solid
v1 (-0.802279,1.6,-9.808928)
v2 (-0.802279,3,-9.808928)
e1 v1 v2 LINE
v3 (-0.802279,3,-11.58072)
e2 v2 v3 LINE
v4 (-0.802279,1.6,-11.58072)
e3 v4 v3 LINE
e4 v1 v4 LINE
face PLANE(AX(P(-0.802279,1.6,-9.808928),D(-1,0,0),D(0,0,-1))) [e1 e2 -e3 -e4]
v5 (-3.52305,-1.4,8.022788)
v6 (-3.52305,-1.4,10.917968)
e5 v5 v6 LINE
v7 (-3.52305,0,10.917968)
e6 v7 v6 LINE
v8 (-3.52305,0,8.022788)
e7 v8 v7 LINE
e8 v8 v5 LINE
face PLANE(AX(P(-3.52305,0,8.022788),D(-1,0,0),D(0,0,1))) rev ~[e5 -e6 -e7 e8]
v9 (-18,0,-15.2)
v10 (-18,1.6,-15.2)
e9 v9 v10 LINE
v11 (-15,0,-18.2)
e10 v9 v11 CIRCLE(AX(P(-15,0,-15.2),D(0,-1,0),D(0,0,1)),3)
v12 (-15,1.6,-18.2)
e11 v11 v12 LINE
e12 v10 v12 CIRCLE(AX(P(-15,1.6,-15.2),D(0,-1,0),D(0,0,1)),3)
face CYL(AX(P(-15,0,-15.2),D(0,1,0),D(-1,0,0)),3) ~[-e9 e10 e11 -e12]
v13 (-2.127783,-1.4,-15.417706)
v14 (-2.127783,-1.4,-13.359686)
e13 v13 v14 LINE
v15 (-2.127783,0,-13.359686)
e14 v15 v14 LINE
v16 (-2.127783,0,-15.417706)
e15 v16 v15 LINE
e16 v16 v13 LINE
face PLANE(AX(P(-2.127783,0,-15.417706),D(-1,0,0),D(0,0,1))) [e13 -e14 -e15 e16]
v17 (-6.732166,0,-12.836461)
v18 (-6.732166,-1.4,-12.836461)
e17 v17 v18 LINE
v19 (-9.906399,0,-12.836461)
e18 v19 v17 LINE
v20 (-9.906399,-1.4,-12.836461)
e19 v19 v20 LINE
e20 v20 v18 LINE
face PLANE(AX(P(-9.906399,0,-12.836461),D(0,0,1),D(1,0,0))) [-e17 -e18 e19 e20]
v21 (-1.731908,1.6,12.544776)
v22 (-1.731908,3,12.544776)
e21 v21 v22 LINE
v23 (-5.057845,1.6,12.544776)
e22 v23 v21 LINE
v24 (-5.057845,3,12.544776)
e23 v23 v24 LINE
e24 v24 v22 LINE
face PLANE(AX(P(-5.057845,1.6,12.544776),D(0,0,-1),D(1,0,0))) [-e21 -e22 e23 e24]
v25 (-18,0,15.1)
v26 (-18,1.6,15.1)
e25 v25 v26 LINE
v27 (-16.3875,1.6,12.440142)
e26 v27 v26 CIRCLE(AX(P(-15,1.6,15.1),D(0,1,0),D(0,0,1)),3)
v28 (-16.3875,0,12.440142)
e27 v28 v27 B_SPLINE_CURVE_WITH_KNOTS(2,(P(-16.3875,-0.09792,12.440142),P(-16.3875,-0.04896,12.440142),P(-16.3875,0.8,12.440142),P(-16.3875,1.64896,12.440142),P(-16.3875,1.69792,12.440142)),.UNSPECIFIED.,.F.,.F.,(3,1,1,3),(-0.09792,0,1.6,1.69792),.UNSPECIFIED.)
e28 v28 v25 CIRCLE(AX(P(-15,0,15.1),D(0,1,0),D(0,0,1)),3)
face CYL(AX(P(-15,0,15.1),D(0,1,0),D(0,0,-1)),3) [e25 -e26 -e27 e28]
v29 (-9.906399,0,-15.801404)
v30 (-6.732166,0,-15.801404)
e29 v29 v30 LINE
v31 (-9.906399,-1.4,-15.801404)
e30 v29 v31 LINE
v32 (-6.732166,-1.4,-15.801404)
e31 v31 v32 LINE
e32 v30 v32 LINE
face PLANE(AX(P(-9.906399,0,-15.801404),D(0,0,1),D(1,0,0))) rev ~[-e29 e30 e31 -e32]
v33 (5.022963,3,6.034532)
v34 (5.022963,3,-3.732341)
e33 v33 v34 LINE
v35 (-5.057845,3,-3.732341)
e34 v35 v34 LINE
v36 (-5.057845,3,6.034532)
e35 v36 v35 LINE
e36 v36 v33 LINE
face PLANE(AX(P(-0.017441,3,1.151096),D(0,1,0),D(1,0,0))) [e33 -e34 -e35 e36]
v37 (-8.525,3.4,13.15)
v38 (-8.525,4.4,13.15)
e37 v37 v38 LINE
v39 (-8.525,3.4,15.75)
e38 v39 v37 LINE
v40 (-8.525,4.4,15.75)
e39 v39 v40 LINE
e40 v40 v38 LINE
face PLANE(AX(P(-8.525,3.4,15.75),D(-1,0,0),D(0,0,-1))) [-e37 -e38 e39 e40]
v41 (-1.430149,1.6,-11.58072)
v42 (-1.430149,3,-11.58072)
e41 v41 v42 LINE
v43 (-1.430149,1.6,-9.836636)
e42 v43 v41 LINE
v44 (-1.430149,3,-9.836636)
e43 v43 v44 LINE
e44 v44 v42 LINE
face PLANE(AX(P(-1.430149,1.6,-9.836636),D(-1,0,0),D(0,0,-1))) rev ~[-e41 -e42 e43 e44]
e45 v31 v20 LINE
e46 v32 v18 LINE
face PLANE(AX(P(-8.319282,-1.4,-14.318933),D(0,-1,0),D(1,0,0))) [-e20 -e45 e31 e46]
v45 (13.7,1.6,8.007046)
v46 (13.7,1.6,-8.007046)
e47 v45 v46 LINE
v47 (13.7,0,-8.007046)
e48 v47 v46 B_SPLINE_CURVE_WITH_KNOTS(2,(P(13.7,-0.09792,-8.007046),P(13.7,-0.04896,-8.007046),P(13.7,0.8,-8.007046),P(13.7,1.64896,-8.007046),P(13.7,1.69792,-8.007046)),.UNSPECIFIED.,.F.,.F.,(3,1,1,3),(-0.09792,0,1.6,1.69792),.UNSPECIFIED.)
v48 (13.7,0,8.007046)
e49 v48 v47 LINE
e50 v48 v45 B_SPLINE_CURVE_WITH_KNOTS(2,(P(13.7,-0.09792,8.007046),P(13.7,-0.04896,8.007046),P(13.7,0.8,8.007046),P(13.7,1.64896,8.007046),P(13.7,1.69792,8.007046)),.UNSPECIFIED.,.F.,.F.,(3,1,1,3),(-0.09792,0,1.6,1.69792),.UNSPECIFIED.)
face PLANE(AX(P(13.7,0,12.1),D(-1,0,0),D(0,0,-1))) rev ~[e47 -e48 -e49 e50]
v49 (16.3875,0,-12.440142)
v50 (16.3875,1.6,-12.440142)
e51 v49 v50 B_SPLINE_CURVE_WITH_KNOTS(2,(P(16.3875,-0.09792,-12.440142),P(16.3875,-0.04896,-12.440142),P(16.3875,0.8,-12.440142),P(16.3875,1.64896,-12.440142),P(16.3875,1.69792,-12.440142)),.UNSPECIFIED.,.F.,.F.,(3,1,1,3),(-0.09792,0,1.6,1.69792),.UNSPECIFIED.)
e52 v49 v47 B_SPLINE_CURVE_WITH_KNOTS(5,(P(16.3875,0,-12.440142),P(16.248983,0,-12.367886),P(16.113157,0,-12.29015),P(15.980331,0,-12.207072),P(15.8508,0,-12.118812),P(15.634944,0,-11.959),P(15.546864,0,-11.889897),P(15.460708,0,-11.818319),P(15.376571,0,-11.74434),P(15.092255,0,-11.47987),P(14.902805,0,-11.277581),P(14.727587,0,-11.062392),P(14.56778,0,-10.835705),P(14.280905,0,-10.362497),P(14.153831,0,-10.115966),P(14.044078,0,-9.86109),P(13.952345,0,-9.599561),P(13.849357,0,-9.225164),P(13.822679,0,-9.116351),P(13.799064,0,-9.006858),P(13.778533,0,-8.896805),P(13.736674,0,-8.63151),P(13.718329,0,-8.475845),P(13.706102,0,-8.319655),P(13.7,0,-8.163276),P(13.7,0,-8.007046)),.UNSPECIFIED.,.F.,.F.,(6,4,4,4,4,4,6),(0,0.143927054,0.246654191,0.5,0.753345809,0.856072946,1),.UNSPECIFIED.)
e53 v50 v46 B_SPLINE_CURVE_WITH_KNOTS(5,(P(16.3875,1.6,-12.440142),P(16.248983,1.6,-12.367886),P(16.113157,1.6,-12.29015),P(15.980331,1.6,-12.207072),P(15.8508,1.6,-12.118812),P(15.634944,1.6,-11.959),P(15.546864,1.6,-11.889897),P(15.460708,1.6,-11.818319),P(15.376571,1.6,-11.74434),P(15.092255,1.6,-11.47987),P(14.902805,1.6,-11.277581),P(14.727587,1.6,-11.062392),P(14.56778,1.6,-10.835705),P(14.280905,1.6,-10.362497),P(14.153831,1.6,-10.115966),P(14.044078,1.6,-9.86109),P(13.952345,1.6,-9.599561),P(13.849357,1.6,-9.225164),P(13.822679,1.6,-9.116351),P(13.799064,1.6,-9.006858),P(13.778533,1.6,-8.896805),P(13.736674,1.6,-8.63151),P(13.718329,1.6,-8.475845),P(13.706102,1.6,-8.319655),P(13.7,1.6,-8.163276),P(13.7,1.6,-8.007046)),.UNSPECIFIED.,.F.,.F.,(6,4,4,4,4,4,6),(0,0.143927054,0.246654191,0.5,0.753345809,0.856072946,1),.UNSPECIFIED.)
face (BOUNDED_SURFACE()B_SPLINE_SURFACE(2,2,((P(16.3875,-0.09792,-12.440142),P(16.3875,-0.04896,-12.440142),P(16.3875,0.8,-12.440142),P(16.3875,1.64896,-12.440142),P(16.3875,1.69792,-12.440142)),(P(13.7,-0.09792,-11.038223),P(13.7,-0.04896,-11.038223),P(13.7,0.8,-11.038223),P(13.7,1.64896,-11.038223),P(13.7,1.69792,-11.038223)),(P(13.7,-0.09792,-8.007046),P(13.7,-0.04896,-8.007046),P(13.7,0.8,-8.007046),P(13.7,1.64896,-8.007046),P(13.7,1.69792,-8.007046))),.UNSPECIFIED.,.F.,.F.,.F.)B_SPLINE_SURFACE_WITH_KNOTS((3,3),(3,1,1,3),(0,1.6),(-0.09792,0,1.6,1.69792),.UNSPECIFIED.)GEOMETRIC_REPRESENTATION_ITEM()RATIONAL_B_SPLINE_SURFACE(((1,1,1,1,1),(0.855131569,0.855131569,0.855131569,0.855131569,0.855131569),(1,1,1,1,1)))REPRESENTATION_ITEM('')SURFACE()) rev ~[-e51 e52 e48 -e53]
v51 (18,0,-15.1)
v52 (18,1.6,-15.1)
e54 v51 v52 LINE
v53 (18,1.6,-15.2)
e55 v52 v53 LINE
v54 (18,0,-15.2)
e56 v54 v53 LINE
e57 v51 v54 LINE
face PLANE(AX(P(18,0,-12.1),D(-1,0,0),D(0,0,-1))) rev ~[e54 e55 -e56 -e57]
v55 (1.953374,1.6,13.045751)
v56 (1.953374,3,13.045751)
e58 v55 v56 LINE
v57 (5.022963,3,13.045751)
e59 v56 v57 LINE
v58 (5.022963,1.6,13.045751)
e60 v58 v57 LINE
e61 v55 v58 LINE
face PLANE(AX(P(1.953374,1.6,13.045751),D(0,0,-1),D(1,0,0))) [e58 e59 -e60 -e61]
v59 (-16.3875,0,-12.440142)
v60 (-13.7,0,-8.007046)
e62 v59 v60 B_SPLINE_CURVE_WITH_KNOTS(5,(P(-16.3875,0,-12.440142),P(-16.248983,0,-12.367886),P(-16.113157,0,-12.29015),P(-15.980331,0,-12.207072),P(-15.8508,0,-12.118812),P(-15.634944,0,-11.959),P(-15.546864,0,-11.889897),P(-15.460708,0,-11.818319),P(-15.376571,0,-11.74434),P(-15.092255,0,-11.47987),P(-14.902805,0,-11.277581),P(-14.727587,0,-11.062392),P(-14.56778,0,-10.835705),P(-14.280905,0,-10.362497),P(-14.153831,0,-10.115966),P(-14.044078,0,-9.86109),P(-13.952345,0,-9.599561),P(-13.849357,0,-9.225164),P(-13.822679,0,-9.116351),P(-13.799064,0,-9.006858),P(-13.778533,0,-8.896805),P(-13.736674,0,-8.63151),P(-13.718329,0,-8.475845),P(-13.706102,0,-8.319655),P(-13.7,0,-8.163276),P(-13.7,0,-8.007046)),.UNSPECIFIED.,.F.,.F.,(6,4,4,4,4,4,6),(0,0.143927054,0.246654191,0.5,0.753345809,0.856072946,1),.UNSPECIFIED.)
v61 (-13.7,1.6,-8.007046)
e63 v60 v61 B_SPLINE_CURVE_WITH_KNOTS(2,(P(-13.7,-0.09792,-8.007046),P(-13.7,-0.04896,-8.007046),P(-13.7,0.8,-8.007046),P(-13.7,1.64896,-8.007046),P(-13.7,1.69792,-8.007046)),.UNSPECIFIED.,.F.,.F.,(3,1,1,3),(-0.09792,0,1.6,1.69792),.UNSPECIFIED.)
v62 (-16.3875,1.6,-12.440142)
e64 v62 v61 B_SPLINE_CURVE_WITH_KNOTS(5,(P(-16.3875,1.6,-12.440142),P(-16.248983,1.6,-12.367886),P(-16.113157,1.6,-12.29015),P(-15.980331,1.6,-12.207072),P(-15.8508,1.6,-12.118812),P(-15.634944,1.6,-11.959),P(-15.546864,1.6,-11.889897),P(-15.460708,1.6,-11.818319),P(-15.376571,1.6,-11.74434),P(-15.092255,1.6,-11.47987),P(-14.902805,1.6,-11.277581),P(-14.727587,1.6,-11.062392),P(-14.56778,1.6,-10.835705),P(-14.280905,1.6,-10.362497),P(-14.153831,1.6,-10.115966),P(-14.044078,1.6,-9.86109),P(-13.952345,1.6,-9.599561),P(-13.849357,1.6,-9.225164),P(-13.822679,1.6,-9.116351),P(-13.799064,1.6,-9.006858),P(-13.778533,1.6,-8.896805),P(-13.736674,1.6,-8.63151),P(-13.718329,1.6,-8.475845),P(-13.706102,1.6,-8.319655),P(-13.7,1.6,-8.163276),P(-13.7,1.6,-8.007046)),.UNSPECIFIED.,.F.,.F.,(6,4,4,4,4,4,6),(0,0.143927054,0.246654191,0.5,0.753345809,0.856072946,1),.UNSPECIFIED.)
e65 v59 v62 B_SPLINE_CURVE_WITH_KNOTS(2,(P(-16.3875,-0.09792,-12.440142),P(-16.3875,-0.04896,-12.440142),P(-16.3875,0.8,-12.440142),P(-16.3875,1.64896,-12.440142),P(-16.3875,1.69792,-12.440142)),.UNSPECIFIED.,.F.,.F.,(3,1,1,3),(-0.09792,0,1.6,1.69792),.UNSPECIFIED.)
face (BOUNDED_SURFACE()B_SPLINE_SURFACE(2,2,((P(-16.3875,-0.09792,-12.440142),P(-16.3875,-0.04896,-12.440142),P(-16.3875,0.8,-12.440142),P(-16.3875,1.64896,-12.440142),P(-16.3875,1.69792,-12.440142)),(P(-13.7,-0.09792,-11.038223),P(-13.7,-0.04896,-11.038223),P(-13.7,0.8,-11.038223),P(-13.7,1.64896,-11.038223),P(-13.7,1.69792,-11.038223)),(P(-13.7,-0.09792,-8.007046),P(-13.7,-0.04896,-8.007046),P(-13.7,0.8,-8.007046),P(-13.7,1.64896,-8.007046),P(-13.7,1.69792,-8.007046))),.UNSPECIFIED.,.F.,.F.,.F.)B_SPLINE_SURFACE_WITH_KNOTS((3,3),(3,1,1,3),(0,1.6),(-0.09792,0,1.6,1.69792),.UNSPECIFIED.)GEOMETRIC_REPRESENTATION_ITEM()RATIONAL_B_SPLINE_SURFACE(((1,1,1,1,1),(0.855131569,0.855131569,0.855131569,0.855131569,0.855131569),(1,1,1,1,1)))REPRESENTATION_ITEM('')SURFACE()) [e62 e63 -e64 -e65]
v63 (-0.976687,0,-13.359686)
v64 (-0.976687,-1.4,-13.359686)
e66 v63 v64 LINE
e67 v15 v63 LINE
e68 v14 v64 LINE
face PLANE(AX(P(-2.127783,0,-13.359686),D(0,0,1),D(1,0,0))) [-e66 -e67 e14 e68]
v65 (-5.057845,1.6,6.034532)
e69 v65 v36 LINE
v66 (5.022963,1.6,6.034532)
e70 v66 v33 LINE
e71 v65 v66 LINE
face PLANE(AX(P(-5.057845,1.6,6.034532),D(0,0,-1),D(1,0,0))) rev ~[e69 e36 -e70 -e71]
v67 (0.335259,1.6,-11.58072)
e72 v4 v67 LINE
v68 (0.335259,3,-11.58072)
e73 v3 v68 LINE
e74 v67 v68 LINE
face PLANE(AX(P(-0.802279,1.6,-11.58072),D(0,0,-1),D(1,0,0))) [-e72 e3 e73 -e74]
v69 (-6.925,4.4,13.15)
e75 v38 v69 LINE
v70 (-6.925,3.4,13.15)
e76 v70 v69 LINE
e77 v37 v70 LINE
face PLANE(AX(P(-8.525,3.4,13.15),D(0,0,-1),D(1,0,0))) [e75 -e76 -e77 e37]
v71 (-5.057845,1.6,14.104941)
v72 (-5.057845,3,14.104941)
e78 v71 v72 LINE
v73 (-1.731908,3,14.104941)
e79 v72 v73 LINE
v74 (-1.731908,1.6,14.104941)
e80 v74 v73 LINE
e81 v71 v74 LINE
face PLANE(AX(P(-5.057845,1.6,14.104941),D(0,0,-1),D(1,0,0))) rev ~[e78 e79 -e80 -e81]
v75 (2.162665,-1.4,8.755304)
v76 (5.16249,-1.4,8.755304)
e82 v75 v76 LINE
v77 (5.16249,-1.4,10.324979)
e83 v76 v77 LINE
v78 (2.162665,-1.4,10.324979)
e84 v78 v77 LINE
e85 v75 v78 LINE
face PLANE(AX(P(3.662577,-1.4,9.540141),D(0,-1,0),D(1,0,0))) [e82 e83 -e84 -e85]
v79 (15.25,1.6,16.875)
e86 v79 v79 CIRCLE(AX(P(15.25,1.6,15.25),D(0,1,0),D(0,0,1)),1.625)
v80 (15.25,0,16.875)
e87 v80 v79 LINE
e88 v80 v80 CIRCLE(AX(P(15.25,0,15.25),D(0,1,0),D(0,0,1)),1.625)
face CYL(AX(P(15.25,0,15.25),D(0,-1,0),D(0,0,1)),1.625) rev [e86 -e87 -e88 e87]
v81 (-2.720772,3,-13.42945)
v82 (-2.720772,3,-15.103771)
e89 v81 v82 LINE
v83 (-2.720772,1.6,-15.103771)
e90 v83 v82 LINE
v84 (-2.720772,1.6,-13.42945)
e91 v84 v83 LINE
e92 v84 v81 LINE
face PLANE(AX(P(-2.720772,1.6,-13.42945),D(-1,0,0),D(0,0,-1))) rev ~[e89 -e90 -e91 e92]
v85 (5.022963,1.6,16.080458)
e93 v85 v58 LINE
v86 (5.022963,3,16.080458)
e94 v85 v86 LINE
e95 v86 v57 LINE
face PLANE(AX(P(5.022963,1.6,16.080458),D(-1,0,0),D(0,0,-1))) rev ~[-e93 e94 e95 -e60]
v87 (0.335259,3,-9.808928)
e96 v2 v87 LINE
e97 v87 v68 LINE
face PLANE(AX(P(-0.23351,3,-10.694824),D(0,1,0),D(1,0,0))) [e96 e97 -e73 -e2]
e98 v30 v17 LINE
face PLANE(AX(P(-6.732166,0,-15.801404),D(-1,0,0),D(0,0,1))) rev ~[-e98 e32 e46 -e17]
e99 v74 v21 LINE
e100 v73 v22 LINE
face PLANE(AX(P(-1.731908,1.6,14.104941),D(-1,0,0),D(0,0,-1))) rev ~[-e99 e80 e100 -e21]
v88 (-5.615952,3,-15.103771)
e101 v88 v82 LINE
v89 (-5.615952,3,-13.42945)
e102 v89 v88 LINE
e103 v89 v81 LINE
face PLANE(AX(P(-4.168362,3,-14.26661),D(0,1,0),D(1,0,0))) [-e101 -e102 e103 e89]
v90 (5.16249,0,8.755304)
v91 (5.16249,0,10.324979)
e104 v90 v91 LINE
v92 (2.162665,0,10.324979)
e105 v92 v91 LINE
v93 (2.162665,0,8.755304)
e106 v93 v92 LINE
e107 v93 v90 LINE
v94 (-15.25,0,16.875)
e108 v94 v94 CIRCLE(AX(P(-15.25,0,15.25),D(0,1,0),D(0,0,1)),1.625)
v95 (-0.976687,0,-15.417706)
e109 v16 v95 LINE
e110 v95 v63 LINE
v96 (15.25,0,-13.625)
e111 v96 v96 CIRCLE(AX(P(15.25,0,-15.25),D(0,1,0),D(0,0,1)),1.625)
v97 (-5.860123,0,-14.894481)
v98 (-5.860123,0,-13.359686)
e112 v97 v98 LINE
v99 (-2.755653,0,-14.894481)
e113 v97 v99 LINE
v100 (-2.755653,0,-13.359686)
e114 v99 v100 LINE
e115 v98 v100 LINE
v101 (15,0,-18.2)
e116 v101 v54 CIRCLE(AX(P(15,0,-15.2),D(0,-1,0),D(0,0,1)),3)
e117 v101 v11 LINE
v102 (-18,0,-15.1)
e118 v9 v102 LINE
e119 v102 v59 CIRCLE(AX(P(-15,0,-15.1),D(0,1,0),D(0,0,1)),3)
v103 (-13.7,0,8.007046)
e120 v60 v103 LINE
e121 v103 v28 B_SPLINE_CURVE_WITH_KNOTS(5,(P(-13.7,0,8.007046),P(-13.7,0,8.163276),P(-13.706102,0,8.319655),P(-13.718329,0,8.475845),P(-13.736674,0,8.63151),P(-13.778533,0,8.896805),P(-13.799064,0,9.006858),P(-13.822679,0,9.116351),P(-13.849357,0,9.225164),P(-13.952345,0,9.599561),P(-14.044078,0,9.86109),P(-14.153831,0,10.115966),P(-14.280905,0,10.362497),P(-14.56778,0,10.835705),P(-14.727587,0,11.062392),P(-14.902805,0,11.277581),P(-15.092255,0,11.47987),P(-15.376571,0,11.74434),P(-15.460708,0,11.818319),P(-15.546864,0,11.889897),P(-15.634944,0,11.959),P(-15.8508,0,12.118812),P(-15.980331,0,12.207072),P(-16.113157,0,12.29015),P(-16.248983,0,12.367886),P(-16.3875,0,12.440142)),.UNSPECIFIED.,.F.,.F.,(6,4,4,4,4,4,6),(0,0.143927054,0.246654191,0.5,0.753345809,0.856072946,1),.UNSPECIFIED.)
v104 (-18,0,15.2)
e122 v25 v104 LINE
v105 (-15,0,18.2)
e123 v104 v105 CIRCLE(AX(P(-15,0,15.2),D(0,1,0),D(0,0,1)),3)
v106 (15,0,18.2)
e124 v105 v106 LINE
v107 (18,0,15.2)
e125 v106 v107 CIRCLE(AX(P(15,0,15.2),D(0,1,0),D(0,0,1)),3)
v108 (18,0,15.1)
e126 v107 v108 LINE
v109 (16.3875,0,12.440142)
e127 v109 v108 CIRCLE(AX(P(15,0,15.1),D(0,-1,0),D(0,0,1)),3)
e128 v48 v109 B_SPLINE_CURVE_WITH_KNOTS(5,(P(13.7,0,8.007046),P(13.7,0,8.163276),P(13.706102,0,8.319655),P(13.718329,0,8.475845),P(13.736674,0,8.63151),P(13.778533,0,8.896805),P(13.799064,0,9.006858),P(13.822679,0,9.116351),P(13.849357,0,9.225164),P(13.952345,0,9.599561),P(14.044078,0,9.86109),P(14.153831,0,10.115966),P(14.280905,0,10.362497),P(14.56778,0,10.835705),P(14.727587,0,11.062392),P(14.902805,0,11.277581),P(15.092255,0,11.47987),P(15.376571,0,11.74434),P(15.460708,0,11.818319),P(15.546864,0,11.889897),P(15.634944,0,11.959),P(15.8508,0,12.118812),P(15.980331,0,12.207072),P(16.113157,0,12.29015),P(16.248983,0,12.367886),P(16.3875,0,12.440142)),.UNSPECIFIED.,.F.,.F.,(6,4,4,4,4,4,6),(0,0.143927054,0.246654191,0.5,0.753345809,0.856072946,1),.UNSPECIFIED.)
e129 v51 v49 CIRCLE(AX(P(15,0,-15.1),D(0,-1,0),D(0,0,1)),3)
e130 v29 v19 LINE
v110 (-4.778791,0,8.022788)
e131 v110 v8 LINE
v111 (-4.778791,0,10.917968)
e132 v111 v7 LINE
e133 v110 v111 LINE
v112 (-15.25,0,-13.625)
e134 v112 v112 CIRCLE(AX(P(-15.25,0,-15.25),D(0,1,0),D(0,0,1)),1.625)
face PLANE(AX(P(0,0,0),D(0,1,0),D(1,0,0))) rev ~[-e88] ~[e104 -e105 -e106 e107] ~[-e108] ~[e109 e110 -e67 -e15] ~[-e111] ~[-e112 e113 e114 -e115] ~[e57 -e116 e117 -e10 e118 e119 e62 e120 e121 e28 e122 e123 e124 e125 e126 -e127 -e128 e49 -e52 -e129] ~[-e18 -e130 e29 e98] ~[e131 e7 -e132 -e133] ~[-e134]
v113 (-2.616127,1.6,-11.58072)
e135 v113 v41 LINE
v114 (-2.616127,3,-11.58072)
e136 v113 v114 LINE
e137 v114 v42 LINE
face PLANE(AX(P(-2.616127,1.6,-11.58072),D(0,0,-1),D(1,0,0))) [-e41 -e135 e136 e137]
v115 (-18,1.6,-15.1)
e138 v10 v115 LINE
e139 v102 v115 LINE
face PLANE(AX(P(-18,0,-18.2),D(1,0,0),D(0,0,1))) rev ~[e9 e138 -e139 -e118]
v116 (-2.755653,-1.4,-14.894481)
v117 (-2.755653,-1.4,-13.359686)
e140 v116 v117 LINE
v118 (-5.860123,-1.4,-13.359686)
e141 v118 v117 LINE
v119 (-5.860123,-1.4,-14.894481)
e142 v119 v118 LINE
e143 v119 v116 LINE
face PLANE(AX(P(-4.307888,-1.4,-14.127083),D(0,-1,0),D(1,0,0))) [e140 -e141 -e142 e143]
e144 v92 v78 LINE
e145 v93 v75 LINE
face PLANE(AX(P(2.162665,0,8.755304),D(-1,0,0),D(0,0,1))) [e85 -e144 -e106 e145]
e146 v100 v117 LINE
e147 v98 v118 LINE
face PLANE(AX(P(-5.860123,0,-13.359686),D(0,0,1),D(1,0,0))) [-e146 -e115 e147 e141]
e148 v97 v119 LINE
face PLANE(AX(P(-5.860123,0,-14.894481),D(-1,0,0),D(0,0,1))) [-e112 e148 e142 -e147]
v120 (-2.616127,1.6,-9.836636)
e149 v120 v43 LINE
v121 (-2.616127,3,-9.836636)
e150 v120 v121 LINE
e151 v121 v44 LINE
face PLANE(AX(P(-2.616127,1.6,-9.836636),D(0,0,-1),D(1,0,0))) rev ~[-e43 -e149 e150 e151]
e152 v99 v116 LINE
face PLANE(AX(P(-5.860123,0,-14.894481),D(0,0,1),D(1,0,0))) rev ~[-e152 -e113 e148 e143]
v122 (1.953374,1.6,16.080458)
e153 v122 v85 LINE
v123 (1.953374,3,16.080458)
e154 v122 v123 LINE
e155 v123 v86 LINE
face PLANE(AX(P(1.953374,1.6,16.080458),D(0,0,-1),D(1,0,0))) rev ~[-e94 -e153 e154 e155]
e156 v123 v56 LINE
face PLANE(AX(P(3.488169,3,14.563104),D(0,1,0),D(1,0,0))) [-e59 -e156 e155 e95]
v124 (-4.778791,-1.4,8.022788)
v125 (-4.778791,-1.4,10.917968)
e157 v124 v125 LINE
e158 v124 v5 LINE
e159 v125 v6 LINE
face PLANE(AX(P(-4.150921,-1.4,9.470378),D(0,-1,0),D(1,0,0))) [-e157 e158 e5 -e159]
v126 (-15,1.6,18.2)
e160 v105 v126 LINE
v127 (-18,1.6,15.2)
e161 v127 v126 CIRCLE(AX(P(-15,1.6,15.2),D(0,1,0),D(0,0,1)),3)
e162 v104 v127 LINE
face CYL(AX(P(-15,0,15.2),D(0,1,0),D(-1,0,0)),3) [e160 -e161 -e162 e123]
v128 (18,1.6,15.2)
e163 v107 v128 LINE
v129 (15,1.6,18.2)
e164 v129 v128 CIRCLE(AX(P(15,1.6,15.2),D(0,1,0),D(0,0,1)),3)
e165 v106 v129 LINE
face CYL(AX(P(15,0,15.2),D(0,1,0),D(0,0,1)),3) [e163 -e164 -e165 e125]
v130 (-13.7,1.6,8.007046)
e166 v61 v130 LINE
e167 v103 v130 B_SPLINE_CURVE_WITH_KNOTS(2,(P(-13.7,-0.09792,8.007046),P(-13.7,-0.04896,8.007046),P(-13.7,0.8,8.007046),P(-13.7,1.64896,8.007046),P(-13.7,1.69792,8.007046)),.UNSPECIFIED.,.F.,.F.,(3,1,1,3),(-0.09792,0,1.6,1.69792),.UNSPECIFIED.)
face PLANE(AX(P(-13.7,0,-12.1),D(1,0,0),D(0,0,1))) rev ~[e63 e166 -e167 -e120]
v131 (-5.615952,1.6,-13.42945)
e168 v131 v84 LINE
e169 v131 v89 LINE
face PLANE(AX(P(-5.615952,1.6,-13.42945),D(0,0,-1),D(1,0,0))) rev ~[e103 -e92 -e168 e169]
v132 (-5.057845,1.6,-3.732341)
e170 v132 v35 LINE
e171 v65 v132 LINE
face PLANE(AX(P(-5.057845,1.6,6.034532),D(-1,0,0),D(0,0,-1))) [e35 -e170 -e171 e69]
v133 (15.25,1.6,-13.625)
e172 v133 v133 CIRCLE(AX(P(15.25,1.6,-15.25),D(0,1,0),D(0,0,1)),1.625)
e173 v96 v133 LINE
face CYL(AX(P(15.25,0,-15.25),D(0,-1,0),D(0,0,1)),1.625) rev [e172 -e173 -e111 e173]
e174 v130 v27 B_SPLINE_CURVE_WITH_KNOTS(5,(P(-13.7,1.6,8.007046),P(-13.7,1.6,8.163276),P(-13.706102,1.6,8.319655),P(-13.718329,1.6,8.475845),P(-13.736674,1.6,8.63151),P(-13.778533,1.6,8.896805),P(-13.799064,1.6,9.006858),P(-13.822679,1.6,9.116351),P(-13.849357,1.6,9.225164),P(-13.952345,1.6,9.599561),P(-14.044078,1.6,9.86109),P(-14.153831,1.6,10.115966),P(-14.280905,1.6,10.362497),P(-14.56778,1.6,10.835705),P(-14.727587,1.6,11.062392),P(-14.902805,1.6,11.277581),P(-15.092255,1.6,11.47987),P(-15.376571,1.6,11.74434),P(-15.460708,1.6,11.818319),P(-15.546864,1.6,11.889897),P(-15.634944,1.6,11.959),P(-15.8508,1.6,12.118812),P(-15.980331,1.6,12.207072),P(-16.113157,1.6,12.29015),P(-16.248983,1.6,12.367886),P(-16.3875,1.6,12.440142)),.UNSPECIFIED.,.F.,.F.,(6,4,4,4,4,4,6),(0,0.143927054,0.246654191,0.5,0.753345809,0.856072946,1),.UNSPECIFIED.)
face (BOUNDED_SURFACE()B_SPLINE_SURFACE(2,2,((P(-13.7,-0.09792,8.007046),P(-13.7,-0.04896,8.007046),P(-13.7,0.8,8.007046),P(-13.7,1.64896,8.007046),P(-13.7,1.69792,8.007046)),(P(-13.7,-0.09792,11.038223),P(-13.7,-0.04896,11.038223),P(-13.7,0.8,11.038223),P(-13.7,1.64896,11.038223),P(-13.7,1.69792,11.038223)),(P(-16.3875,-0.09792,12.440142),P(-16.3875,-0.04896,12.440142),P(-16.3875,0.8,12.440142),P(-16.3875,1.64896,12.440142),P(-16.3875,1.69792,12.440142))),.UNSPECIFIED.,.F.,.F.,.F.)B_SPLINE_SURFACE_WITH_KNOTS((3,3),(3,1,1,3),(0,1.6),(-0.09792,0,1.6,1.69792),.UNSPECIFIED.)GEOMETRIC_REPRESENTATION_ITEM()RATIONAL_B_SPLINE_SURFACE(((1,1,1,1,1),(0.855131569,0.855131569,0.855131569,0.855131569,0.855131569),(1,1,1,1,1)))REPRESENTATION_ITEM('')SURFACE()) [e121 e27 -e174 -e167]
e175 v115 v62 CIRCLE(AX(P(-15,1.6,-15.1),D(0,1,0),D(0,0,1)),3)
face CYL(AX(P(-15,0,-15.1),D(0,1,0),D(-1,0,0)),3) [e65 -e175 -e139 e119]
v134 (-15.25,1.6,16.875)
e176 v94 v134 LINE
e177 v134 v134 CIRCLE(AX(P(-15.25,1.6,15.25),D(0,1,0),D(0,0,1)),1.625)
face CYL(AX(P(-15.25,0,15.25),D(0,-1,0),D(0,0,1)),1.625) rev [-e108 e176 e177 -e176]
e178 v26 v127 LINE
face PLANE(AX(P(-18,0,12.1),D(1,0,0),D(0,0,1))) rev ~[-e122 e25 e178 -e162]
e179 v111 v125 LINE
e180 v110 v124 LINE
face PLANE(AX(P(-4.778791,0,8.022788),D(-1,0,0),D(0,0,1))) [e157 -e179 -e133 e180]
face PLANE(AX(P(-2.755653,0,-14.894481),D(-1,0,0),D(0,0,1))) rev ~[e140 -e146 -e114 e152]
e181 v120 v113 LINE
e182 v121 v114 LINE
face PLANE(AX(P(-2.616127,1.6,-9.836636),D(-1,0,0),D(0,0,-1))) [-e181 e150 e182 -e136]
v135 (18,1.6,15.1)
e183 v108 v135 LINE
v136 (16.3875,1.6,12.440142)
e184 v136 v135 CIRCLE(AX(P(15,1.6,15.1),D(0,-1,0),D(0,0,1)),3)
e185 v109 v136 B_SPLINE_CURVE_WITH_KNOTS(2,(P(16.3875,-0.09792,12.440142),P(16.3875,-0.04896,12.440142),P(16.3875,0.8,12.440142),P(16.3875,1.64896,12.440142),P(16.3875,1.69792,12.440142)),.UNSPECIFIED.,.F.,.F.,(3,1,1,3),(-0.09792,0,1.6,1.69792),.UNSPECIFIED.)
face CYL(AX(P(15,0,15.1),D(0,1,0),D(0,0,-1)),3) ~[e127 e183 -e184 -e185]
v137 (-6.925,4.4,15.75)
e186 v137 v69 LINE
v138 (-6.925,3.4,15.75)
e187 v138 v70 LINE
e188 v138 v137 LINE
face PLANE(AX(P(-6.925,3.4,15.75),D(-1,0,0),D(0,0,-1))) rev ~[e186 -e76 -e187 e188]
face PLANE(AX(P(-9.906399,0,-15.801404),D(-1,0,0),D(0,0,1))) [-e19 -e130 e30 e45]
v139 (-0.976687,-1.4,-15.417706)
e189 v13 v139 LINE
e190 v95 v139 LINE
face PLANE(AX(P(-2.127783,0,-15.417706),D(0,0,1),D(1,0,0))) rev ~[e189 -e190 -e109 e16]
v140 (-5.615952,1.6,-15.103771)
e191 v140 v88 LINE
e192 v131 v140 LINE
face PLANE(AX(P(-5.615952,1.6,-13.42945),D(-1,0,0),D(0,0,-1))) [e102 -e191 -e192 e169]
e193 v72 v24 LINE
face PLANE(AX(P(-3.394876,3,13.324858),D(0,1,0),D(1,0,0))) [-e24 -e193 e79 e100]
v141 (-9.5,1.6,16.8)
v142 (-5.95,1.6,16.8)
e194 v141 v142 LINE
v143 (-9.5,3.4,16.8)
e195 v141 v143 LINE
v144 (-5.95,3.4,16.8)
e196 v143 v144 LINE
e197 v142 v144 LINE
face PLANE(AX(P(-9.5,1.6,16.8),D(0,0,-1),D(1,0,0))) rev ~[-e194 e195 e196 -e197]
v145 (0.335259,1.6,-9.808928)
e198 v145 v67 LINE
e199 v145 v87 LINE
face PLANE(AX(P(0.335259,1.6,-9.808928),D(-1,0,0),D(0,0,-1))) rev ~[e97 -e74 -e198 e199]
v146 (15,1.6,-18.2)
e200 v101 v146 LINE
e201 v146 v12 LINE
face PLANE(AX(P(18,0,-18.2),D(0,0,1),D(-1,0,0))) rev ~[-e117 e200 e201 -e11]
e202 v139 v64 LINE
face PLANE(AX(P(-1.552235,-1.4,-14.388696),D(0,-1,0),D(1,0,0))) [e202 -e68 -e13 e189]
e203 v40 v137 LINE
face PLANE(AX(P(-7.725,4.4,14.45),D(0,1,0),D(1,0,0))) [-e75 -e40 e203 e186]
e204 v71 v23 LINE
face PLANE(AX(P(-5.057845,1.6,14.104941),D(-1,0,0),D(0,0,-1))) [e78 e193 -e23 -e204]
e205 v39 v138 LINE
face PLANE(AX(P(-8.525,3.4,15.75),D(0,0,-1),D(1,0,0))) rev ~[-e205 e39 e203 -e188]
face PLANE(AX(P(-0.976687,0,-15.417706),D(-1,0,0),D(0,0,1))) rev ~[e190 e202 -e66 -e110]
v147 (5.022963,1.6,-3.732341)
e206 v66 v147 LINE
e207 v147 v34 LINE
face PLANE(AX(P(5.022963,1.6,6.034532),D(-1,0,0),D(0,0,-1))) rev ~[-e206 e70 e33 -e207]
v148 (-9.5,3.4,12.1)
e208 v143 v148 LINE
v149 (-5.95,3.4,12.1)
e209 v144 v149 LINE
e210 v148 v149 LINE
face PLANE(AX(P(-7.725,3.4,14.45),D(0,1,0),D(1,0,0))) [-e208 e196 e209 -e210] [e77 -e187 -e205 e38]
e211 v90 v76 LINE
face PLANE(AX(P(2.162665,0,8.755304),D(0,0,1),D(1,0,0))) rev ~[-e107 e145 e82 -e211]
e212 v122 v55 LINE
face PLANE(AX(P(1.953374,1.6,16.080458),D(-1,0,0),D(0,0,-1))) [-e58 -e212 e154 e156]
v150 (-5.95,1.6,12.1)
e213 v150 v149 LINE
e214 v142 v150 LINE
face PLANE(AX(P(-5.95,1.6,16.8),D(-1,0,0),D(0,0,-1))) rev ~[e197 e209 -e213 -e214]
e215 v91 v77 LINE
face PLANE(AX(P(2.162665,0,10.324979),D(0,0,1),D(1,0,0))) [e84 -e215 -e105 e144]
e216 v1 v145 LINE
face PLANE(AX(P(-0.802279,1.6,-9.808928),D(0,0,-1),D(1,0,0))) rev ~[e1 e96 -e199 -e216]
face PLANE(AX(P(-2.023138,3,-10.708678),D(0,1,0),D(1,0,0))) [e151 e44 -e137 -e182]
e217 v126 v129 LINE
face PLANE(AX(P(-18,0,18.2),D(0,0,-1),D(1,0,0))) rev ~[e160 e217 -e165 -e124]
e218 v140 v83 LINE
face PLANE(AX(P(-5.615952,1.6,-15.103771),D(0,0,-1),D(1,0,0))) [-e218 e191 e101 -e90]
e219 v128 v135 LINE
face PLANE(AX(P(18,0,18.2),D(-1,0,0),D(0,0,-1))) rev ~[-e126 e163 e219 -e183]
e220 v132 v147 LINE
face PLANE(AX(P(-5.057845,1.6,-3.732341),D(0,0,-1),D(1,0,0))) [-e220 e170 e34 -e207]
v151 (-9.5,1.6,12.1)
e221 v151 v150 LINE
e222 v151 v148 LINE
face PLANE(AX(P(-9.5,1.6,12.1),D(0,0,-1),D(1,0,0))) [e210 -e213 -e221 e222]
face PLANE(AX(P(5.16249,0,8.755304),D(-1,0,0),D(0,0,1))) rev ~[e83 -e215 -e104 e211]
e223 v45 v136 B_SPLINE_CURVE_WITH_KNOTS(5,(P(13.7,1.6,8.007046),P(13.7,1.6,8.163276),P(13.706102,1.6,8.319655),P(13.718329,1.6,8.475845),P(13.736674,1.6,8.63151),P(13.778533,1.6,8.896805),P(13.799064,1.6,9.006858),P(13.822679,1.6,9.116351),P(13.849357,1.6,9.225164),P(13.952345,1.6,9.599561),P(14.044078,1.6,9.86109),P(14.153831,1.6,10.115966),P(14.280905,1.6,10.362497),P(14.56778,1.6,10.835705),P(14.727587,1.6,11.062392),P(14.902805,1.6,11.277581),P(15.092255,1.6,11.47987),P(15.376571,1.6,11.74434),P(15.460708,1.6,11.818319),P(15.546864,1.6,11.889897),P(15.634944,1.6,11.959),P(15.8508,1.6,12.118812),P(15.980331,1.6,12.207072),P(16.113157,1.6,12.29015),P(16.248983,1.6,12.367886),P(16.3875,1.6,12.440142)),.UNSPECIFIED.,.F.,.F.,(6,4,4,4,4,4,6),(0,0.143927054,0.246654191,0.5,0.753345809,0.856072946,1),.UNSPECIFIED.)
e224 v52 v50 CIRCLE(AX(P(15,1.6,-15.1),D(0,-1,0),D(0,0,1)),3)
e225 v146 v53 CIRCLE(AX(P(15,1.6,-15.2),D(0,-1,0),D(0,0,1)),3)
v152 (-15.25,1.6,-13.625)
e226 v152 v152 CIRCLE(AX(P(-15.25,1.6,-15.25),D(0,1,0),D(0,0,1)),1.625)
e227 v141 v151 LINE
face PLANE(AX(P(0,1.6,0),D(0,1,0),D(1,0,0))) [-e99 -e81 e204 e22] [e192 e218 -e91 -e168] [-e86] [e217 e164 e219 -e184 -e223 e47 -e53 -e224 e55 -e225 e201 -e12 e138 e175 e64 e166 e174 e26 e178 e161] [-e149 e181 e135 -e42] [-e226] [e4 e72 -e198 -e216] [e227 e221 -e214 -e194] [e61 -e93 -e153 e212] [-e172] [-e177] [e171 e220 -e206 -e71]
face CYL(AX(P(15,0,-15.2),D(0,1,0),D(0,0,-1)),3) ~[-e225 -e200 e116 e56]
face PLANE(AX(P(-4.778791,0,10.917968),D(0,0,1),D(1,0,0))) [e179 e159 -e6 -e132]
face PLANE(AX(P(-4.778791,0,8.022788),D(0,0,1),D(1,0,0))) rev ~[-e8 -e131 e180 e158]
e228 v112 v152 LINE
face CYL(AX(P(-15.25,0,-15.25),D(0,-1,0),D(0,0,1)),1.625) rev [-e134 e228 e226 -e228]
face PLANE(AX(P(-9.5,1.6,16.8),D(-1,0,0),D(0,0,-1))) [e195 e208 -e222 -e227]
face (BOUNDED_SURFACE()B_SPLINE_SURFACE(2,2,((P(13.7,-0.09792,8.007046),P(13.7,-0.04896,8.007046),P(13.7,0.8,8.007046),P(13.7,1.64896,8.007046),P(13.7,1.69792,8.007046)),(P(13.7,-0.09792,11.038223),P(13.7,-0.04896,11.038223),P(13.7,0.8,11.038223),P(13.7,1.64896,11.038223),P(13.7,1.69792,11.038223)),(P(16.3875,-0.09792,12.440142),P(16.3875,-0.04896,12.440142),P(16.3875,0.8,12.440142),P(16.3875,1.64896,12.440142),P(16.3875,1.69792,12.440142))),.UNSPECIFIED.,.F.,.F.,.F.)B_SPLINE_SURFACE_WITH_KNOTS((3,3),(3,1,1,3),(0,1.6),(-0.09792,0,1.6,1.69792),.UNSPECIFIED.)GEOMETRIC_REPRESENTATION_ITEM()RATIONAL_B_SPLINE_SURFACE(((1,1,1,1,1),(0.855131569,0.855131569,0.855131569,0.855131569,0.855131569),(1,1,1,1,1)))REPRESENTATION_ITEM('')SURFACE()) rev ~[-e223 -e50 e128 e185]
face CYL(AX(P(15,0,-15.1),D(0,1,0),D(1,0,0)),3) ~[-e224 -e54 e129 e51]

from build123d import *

# Parameters (mm, degrees)
SKETCH1_R             = 1.625
PCB_DEPTH             = 1.6
SKETCH2_W             = 10.080807645
SKETCH2_H             = 9.766872459
SKETCH2_W_2           = 3.069588487
SKETCH2_H_2           = 3.0347068
SKETCH2_W_3           = 2.89518005
SKETCH2_H_3           = 1.674320993
SKETCH2_W_4           = 1.18597737
SKETCH2_H_4           = 1.744084367
SKETCH2_W_5           = 1.137538121
SKETCH2_H_5           = 1.77179178
SKETCH2_W_6           = 3.325937142
SKETCH2_H_6           = 1.560165557
TOP_COMPONENTS_DEPTH  = 1.4
FILLET1_R             = 3
FILLET2_R             = 5
SKETCH3_W             = 3.174233549
SKETCH3_H             = 2.964943425
SKETCH3_W_2           = 3.104470174
SKETCH3_H_2           = 1.534794244
SKETCH3_W_3           = 2.999825112
SKETCH3_H_3           = 1.569675931
SKETCH3_W_4           = 1.255740744
SKETCH3_H_4           = 2.895180051
SKETCH3_W_5           = 1.151095683
SKETCH3_H_5           = 2.058019554
REAR_COMPONENTS_DEPTH = 1.4
SKETCH4_W             = 3.55
SKETCH4_H             = 4.7
BUTTON_BASE_DEPTH     = 1.8
SKETCH5_W             = 1.6
SKETCH5_H             = 2.6
BUTTON_TIP_DEPTH      = 1


with BuildPart() as part:
    # Sketch1 → PCB (new body)
    with BuildSketch(Plane(origin=(0, 0, 0), x_dir=(1, 0, 0), z_dir=(0, 1, 0))):
        Polygon((-18, 18.2), (-18, 12.1), (-13.7, 12.1), (-13.7, -12.1), (-18, -12.1), (-18, -18.2), (18, -18.2), (18, -12.1), (13.7, -12.1), (13.7, 12.1), (18, 12.1), (18, 18.2), align=None)
        with Locations(Location((15.25, -15.25, 0), (0, 0, 270))):
            Circle(SKETCH1_R, mode=Mode.SUBTRACT)
        with Locations(Location((15.25, 15.25, 0), (0, 0, 270))):
            Circle(SKETCH1_R, mode=Mode.SUBTRACT)
        with Locations(Location((-15.25, 15.25, 0), (0, 0, 270))):
            Circle(SKETCH1_R, mode=Mode.SUBTRACT)
        with Locations(Location((-15.25, -15.25, 0), (0, 0, 270))):
            Circle(SKETCH1_R, mode=Mode.SUBTRACT)
    extrude(amount=PCB_DEPTH)

    # Sketch2 → Top components (add)
    with BuildSketch(Plane(origin=(0, 1.6, 0), x_dir=(1, 0, 0), z_dir=(0, 1, 0))):
        with Locations((-0.017440844, -1.151095683)):
            Rectangle(SKETCH2_W, SKETCH2_H)
        with Locations((3.488168735, -14.56310447)):
            Rectangle(SKETCH2_W_2, SKETCH2_H_2)
        with Locations((-4.168361639, 14.266610128)):
            Rectangle(SKETCH2_W_3, SKETCH2_H_3)
        with Locations((-2.023137867, 10.708678018)):
            Rectangle(SKETCH2_W_4, SKETCH2_H_4)
        with Locations((-0.233509749, 10.694824311)):
            Rectangle(SKETCH2_W_5, SKETCH2_H_5)
        with Locations((-3.394876095, -13.324858297)):
            Rectangle(SKETCH2_W_6, SKETCH2_H_6)
    extrude(amount=TOP_COMPONENTS_DEPTH)

    # Fillet1
    fillet1_edges = [part.edges().sort_by_distance(p)[0] for p in [
        (-18, 0.8, 18.2),
        (-18, 0.8, 12.1),
        (-18, 0.8, -12.1),
        (-18, 0.8, -18.2),
        (18, 0.8, -18.2),
        (18, 0.8, -12.1),
        (18, 0.8, 12.1),
        (18, 0.8, 18.2),
    ]]
    fillet(fillet1_edges, radius=FILLET1_R)

    # Fillet2
    fillet2_edges = [part.edges().sort_by_distance(p)[0] for p in [
        (13.7, 0.8, -12.1),
        (13.7, 0.8, 12.1),
        (-13.7, 0.8, 12.1),
        (-13.7, 0.8, -12.1),
    ]]
    fillet(fillet2_edges, radius=FILLET2_R)

    # Sketch3 → Rear components (add)
    with BuildSketch(Plane.XZ):
        with Locations((-8.319282433, -14.318932658)):
            Rectangle(SKETCH3_W, SKETCH3_H)
        with Locations((-4.307888388, -14.127083378)):
            Rectangle(SKETCH3_W_2, SKETCH3_H_2)
        with Locations((3.662577172, 9.540141492)):
            Rectangle(SKETCH3_W_3, SKETCH3_H_3)
        with Locations((-4.150920795, 9.470378117)):
            Rectangle(SKETCH3_W_4, SKETCH3_H_4)
        with Locations((-1.552235088, -14.388696033)):
            Rectangle(SKETCH3_W_5, SKETCH3_H_5)
    extrude(amount=REAR_COMPONENTS_DEPTH)

    # Sketch4 → Button base (add)
    with BuildSketch(Plane(origin=(0, 1.6, 0), x_dir=(1, 0, 0), z_dir=(0, 1, 0))):
        with Locations((-7.725, -14.45)):
            Rectangle(SKETCH4_W, SKETCH4_H)
    extrude(amount=BUTTON_BASE_DEPTH)

    # Sketch5 → Button tip (add)
    with BuildSketch(Plane(origin=(0, 3.4, 0), x_dir=(1, 0, 0), z_dir=(0, 1, 0))):
        with Locations((-7.725, -14.45)):
            Rectangle(SKETCH5_W, SKETCH5_H)
    extrude(amount=BUTTON_TIP_DEPTH)


solid = part.part
